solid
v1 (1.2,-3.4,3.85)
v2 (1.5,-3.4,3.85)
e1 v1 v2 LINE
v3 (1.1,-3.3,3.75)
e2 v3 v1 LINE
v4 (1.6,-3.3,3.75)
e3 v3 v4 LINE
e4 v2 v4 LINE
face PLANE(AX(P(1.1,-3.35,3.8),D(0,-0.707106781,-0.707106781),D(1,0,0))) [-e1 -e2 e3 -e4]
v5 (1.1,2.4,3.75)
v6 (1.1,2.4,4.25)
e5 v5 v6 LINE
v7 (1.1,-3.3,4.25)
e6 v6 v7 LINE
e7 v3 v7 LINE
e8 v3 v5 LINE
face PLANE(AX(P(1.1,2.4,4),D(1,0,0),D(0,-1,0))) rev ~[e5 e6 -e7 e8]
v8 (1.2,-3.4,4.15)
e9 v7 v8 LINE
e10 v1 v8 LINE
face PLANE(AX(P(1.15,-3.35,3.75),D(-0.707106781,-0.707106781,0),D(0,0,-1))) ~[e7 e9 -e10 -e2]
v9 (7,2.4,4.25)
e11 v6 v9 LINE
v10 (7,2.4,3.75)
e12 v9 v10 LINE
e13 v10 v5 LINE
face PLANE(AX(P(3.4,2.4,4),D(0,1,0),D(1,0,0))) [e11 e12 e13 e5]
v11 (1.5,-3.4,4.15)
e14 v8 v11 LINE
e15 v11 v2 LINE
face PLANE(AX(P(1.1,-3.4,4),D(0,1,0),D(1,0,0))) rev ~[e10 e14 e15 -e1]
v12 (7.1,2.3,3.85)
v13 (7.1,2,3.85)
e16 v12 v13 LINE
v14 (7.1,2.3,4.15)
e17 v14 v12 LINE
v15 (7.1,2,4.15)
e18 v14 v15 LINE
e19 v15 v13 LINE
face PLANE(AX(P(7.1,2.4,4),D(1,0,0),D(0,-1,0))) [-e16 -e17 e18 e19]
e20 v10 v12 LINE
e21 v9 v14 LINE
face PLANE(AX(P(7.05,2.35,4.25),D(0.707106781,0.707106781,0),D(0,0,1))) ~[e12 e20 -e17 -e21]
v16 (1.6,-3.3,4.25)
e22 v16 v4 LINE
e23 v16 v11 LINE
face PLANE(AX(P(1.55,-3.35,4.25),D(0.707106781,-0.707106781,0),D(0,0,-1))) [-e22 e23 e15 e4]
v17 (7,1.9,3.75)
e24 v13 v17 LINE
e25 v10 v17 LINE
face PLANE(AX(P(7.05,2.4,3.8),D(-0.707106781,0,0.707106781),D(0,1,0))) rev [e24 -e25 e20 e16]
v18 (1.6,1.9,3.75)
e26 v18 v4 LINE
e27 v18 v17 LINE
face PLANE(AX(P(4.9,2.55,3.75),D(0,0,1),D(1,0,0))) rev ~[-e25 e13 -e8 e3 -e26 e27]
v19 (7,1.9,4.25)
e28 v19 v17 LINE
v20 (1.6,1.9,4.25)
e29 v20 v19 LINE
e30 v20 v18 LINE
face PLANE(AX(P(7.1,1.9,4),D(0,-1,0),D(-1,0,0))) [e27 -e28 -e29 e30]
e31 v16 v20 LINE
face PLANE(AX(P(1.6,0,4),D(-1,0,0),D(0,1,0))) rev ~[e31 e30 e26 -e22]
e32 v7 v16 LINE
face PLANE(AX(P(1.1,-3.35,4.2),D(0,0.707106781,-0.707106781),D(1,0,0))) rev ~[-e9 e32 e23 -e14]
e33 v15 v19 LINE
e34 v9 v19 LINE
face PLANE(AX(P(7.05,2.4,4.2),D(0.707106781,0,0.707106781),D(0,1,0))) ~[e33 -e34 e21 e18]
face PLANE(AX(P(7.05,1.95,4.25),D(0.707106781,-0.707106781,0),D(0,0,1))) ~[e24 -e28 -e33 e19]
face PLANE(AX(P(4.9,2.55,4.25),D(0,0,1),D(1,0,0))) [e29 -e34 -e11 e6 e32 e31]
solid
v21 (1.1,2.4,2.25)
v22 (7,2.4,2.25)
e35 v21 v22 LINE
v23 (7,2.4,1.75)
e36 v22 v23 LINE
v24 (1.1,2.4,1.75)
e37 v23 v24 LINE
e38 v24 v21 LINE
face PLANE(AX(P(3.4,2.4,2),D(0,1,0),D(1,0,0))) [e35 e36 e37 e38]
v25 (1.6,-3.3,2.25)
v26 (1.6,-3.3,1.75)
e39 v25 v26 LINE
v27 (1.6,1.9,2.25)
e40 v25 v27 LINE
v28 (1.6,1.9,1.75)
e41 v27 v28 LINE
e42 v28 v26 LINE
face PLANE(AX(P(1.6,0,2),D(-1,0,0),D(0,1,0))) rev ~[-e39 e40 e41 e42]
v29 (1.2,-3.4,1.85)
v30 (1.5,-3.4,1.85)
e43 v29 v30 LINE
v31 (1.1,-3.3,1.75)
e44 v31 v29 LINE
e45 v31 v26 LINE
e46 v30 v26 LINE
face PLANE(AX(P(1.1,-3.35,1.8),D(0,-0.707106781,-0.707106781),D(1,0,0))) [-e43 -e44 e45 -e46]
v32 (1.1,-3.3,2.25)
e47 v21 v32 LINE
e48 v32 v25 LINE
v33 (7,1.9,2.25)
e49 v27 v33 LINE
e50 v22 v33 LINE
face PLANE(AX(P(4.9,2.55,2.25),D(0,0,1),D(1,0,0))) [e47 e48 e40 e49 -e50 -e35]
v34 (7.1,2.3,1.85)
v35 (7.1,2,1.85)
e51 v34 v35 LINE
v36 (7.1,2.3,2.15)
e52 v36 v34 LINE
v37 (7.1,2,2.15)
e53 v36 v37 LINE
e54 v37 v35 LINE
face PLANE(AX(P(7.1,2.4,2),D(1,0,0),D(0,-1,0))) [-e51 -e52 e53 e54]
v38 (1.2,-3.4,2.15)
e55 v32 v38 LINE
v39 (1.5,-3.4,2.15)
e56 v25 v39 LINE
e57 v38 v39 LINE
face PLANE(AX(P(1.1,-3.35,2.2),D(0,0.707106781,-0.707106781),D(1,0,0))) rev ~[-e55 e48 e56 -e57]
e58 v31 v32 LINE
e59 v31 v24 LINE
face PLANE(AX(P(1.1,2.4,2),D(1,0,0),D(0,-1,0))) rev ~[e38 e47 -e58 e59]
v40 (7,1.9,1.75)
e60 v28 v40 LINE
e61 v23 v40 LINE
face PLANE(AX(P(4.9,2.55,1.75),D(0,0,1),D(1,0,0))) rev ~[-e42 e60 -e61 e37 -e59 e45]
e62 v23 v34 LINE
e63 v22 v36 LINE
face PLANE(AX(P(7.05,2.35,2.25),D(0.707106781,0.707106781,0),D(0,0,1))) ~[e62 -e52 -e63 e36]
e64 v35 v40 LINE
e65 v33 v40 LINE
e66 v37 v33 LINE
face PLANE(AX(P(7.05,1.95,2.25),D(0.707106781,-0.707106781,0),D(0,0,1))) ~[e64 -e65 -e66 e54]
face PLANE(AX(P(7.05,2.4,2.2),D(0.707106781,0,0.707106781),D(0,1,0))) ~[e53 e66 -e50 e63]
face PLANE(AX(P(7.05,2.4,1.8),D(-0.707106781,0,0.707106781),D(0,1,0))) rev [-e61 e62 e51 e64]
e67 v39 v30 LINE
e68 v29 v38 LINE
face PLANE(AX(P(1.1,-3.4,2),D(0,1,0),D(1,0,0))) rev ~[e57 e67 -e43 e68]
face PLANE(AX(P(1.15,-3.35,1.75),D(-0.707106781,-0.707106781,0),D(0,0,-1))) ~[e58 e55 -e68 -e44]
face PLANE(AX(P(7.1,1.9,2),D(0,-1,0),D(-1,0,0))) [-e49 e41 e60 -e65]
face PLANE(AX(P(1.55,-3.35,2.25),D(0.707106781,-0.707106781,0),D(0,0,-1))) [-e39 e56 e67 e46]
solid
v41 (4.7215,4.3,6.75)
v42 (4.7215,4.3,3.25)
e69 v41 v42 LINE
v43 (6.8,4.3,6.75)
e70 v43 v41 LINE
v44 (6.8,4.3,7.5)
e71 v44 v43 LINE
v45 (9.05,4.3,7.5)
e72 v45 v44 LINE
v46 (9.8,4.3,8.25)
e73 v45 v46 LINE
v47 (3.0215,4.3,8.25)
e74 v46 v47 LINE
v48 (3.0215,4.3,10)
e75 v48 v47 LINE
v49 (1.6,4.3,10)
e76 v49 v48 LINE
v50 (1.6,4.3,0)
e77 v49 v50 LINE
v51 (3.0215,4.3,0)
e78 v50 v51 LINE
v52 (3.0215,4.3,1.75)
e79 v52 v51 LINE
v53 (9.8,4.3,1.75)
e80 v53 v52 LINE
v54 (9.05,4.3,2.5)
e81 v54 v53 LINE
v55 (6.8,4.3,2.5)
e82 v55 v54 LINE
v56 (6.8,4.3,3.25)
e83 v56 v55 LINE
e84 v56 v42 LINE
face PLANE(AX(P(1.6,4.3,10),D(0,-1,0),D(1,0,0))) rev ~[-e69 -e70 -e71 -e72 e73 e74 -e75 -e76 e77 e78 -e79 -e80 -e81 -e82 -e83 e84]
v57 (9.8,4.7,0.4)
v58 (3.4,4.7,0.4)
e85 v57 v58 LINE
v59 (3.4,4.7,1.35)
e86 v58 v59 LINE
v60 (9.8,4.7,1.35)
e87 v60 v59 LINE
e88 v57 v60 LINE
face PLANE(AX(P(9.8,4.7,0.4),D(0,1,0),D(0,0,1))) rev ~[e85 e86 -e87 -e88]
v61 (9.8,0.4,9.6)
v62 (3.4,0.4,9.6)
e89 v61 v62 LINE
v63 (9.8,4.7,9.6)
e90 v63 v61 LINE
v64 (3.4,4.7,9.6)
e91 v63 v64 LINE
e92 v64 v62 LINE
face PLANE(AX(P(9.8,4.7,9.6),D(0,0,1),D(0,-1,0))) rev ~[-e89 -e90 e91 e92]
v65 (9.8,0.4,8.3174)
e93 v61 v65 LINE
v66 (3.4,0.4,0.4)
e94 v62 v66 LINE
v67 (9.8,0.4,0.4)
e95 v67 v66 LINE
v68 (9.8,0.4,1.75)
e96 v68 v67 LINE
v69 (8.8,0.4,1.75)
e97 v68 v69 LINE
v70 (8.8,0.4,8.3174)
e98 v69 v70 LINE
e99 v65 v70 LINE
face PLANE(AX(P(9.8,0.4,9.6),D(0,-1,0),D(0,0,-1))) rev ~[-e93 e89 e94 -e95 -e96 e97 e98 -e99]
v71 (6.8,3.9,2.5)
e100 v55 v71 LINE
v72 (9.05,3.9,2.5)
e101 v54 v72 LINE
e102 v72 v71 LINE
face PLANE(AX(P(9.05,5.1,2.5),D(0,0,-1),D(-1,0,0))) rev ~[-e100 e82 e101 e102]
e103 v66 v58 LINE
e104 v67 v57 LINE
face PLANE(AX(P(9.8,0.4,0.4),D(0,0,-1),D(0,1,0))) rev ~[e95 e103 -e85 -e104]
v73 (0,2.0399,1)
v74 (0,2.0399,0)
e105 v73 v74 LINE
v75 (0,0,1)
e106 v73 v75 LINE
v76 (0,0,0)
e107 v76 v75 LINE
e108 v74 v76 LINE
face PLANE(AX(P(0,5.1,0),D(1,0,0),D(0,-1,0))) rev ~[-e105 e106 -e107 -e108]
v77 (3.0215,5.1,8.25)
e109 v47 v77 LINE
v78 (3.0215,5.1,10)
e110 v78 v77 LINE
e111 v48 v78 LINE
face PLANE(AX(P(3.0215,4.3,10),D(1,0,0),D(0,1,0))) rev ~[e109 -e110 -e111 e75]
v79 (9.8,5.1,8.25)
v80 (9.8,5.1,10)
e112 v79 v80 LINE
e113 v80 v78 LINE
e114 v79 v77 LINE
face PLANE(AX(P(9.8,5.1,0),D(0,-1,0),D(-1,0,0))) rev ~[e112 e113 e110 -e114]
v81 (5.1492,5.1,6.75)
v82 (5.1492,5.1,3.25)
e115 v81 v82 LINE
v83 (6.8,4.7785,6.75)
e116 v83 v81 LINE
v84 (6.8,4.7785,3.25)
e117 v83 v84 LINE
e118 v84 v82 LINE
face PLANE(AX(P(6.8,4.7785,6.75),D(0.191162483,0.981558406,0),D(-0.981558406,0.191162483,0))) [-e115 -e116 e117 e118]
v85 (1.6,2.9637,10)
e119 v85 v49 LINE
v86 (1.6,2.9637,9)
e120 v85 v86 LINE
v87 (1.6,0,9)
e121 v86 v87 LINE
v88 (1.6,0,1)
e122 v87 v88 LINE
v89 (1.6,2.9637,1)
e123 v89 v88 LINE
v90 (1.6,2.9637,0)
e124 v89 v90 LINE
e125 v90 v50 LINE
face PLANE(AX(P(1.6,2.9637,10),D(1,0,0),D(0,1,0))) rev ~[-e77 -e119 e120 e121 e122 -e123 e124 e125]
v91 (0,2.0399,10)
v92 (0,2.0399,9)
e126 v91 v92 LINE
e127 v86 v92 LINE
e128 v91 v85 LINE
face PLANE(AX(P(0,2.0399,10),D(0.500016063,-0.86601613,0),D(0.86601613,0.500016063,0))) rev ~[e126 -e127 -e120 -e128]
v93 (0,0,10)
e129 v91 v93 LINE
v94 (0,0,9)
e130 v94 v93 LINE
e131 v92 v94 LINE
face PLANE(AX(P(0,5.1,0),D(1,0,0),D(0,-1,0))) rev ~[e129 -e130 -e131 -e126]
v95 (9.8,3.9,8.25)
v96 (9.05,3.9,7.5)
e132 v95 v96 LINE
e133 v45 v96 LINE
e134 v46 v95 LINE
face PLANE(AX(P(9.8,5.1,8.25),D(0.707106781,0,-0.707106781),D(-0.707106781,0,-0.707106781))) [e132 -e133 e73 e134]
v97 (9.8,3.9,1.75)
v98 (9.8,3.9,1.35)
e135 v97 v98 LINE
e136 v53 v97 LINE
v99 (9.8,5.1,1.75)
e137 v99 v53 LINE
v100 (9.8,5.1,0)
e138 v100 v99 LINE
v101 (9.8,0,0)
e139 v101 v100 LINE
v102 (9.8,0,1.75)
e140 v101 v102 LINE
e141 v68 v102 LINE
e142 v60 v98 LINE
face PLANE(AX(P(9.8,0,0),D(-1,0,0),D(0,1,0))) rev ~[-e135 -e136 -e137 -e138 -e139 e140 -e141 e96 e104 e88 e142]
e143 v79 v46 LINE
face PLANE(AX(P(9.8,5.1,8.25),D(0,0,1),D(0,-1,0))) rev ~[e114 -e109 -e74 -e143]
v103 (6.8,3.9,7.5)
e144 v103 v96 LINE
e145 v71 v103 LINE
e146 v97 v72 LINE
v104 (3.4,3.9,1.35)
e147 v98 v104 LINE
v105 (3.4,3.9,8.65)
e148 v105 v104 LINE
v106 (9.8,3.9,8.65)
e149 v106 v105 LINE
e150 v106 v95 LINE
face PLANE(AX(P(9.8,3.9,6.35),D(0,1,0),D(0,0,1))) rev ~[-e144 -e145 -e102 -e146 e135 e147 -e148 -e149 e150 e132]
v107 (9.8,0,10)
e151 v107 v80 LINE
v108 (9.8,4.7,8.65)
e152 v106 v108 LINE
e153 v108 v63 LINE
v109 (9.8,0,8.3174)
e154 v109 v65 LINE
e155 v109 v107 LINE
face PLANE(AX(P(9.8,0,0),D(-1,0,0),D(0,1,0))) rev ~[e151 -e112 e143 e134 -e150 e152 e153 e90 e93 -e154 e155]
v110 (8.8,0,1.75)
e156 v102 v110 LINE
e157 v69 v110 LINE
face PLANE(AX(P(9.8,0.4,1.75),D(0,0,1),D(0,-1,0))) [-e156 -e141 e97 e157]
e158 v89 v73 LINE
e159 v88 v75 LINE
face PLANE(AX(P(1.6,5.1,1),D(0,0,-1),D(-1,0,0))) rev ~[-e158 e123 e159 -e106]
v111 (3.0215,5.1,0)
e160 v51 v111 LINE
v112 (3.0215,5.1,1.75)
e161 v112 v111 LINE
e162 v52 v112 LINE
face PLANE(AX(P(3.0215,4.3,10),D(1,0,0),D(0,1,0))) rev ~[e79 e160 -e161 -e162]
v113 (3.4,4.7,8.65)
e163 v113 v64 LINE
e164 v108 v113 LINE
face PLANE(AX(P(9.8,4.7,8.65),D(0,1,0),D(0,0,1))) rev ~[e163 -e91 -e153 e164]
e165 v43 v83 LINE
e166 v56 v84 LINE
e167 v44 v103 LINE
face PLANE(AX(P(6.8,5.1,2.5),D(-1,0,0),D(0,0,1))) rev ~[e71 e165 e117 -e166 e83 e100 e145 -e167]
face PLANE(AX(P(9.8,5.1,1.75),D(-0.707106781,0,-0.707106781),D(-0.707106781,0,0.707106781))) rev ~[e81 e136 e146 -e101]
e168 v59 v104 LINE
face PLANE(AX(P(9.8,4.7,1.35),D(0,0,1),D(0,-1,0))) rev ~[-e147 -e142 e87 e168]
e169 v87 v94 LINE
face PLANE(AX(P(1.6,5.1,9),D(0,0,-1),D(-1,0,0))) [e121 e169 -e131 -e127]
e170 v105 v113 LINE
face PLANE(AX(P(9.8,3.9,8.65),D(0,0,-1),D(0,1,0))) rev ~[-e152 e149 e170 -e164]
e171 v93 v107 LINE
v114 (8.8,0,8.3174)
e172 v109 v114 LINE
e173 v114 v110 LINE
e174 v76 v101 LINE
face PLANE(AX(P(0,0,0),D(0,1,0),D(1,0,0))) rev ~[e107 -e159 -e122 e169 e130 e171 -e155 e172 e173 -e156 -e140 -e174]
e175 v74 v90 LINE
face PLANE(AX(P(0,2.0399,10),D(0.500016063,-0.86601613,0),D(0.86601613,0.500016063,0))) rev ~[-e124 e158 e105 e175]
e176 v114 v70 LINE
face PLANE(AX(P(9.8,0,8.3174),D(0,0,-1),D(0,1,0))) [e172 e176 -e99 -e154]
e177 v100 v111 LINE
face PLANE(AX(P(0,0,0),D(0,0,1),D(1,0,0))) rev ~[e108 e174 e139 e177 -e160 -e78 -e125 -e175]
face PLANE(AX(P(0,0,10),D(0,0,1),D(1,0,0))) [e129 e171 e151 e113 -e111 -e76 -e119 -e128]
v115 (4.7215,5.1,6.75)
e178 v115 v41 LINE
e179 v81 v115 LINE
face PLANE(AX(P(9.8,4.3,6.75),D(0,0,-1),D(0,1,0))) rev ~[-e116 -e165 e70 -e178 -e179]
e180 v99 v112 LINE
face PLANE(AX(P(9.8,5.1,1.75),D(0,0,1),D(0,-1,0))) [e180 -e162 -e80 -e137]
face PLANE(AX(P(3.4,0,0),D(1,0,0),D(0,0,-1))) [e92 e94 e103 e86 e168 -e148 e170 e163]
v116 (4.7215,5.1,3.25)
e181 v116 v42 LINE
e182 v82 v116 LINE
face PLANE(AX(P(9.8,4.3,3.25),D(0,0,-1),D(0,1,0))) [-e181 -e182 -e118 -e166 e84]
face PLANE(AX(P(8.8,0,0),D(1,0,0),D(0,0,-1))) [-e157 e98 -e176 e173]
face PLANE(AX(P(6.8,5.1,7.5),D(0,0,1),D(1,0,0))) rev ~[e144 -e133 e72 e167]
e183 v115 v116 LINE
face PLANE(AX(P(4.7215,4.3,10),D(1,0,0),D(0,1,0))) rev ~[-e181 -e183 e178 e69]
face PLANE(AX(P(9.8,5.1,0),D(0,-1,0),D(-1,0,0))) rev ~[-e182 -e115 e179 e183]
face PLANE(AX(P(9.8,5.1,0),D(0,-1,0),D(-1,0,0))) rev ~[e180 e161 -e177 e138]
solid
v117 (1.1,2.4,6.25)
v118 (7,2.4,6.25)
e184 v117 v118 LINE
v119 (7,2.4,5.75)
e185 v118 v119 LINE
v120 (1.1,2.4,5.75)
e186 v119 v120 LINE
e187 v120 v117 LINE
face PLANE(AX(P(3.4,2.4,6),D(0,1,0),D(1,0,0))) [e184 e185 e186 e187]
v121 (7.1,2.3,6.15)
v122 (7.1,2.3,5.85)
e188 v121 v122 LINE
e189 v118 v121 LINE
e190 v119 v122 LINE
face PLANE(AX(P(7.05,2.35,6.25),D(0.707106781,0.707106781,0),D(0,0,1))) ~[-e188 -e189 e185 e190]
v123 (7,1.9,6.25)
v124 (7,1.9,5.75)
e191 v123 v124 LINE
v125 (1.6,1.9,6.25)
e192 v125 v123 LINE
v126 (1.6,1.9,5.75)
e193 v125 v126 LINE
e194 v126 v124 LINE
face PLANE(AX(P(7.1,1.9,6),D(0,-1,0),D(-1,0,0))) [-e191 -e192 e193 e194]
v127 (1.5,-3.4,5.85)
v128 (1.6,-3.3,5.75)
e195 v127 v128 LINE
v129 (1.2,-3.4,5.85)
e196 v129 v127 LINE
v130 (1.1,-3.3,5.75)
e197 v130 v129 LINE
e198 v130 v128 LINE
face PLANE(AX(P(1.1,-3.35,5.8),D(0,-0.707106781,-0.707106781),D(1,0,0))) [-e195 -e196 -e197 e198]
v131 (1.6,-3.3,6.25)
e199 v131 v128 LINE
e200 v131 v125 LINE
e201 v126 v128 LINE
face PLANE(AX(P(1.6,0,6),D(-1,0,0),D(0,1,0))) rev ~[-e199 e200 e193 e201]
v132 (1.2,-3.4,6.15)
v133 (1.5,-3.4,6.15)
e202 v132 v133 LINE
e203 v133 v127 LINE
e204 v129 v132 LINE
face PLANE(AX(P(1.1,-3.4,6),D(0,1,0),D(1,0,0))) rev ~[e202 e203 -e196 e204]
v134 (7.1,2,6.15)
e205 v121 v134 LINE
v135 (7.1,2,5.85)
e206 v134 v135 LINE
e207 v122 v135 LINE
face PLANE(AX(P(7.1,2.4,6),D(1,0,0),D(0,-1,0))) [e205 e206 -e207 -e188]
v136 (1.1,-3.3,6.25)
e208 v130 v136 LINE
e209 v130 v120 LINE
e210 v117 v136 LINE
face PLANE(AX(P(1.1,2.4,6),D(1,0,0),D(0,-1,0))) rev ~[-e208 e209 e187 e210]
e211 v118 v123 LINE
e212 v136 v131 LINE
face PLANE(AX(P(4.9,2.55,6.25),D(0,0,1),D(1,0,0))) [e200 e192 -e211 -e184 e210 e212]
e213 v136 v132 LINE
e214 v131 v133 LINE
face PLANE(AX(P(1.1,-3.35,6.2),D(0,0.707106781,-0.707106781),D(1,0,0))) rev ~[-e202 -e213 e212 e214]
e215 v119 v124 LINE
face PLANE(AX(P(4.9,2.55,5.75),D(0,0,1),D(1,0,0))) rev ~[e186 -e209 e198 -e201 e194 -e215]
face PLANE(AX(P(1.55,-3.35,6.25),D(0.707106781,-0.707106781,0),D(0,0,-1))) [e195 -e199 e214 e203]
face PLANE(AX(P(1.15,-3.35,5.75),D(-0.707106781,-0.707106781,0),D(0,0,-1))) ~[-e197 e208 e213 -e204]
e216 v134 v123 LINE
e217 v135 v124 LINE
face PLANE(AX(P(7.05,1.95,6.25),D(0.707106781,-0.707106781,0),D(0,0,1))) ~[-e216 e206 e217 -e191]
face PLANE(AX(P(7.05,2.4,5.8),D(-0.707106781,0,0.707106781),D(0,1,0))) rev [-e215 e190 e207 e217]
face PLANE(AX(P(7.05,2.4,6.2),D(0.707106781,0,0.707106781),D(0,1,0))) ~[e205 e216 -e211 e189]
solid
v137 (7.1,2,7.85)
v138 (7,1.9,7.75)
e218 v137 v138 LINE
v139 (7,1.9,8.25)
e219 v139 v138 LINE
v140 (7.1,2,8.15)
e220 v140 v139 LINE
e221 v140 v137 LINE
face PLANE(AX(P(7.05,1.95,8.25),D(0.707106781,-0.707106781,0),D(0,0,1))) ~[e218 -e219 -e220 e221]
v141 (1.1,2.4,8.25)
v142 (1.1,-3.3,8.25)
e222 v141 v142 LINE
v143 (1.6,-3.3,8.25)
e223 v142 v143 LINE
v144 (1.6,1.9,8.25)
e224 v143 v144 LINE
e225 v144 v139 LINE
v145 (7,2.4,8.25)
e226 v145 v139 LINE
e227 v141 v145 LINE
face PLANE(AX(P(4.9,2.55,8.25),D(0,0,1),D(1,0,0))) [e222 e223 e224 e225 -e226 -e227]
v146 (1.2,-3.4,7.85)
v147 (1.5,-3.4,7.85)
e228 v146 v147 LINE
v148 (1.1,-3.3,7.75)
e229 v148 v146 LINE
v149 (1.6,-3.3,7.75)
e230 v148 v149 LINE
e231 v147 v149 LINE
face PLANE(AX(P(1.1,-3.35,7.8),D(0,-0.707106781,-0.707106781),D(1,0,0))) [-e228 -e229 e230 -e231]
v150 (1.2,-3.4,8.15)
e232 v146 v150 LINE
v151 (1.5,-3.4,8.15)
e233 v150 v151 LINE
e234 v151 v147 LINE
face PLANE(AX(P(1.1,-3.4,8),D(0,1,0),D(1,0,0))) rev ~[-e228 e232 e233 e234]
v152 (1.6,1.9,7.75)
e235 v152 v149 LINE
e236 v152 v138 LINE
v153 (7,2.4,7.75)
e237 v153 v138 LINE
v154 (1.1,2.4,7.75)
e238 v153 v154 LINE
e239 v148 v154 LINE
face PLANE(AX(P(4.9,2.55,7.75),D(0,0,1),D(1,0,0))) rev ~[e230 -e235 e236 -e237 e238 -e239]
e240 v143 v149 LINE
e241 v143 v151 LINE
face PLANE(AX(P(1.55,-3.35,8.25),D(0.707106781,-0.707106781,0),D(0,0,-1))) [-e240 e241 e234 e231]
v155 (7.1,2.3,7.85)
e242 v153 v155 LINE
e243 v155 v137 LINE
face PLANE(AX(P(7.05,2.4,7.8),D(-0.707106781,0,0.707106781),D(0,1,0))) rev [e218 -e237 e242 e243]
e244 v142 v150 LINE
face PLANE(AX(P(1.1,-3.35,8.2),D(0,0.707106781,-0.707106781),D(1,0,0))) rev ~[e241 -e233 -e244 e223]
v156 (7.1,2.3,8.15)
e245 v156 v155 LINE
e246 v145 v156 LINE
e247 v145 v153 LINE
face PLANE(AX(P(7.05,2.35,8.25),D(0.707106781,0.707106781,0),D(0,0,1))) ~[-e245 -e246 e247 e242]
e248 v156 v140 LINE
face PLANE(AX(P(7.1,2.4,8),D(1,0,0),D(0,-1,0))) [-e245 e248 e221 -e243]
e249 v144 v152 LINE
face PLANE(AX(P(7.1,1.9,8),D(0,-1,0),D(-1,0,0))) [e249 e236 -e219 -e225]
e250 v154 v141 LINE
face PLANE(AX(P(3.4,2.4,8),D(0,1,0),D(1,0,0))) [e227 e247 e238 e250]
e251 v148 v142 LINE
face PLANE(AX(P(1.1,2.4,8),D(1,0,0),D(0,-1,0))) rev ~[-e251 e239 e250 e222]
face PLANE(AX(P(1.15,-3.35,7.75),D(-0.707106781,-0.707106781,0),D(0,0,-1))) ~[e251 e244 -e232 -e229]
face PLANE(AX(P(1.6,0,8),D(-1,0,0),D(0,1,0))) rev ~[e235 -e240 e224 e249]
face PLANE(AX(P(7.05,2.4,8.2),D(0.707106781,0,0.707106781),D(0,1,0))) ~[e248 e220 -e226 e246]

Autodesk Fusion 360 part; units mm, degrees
sketch "Sketch1" plane through (0, 0, 0) normal (0, 0, 1) x (1, 0, 0)
  line L0 (0, 0) -> (9.8, 0)
  line L1 (9.8, 0) -> (9.8, 5.1)
  line L2 (9.8, 5.1) -> (0, 5.1)
  line L3 (0, 5.1) -> (0, 0)
  dimension "d1" = 9.8
  dimension "d2" = 5.1
extrude "Extrude1" add sketch "Sketch1" along normal blind 10 makes body 1
sketch "Sketch2" plane through (0, 5.1, 0) normal (0, 1, 0) x (-1, 0, 0)
  line L0 (-9.8, 0) -> (0, 0)
  line L1 (0, 0) -> (0, 10)
  line L2 (0, 10) -> (-9.8, 10)
  line L3 (-9.8, 10) -> (-9.8, 0)
  line L4 (0, 5) -> (-9.8, 5) construction
  line L5 (-1.6, 5) -> (-1.6, 1)
  line L6 (-1.6, 1) -> (0, 1)
  line L7 (0, 9) -> (0, 1)
  line L8 (-1.6, 9) -> (0, 9)
  line L9 (-1.6, 5) -> (-1.6, 9)
  dimension "d5" = 8.2
extrude "Extrude2" cut sketch "Sketch2" against normal through all contours L1 L5 L6 L7 L8 L9 bodies 1
sketch "Sketch3" plane through (9.8, 0, 0) normal (1, 0, 0) x (0, 0, -1)
  line L0 (0, 0) -> (0, 5.1)
  line L1 (0, 5.1) -> (-10, 5.1)
  line L2 (-10, 5.1) -> (-10, 0)
  line L3 (-10, 0) -> (0, 0)
  line L4 (-5, 5.1) -> (-5, 0) construction
  line L5 (-5, 5.1) -> (-3.25, 5.1) construction
  line L6 (-5, 0) -> (-1.75, 0) construction
  line L7 (-3.25, 5.1) -> (-1.75, 5.1)
  line L8 (-1.75, 5.1) -> (-1.75, 4.3)
  line L9 (-1.75, 4.3) -> (-3.25, 4.3)
  line L10 (-3.25, 4.3) -> (-3.25, 5.1)
  line L11 (-6.75, 4.3) -> (-6.75, 5.1)
  line L12 (-8.25, 4.3) -> (-6.75, 4.3)
  line L13 (-6.75, 5.1) -> (-8.25, 5.1)
  line L14 (-8.25, 5.1) -> (-8.25, 4.3)
  dimension "d7" = 1.75
  dimension "d8" = 3.25
  dimension "d9" = 4.3
extrude "Extrude3" cut sketch "Sketch3" against normal through all contours L1 L7 L8 L9 L10 | L1 L11 L12 L13 L14 bodies 1
sketch "Sketch4" plane through (0, 0, 10) normal (0, 0, 1) x (1, 0, 0)
  line L0 (0, 5.1) -> (0, 0)
  line L1 (0, 0) -> (9.8, 0)
  line L2 (9.8, 0) -> (9.8, 5.1)
  line L3 (9.8, 5.1) -> (0, 5.1)
  line L4 (0, 2.0399) -> (1.6, 2.9637)
  line L5 (1.6, 2.9637) -> (1.6, 4.3)
  line L6 (1.6, 4.3) -> (3.0215, 4.3)
  line L7 (3.0215, 4.3) -> (3.0215, 5.1)
  line L8 (0, 5.1) -> (3.0215, 5.1)
  line L9 (0, 5.1) -> (0, 2.0399)
  line L10 (1.6, 5.1) -> (1.6, 0)
  dimension "d11" = 4.3
  dimension "d12" = 8.2
  dimension "d13" = 60
extrude "Extrude4" cut sketch "Sketch4" against normal through all contours L0 L3 L4 L5 L8 L9 L10 | L3 L6 L7 L8 L10 bodies 1
sketch "Sketch5" plane through (0, 5.1, 0) normal (0, 1, 0) x (-1, 0, 0)
  line L0 (-3.0215, 3.25) -> (-3.0215, 6.75)
  line L1 (-3.0215, 6.75) -> (-9.8, 6.75)
  line L2 (-9.8, 6.75) -> (-9.8, 3.25)
  line L3 (-9.8, 3.25) -> (-3.0215, 3.25)
  line L4 (-9.05, 2.5) -> (-6.8, 2.5)
  line L5 (-6.8, 2.5) -> (-6.8, 7.5)
  line L6 (-6.8, 7.5) -> (-9.05, 7.5)
  line L7 (-9.8, 7.5) -> (-9.8, 2.5)
  line L8 (-9.8, 1.75) -> (-9.8, 3.25)
  line L9 (-9.8, 1.75) -> (-9.05, 2.5)
  line L10 (-9.8, 1.75) -> (-8.7393, 1.75) construction
  line L11 (-9.8, 2.5) -> (-9.8, 1.75)
  line L12 (-9.8, 7.5) -> (-9.8, 8.25)
  line L13 (-9.8, 8.25) -> (-9.05, 7.5)
  point P0 (-9.8, 8.25)
  dimension "d15" = 0.75
  dimension "d16" = 0.75
  dimension "d17" = 3
  dimension "d18" = 45
  dimension "d19" = 45
sketch "Sketch6" plane through (9.8, 0, 0) normal (1, 0, 0) x (0, 0, -1)
  line L0 (-8.25, 4.3) -> (-8.25, 5.1)
  line L1 (-8.25, 5.1) -> (-10, 5.1)
  line L2 (-10, 5.1) -> (-10, 0)
  line L3 (-10, 0) -> (0, 0)
  line L4 (0, 0) -> (0, 5.1)
  line L5 (0, 5.1) -> (-1.75, 5.1)
  line L6 (-1.75, 5.1) -> (-1.75, 4.3)
  line L7 (-1.75, 4.3) -> (-3.25, 4.3)
  line L8 (-3.25, 4.3) -> (-3.25, 5.1)
  line L9 (-3.25, 5.1) -> (-6.75, 5.1)
  line L10 (-6.75, 5.1) -> (-6.75, 4.3)
  line L11 (-6.75, 4.3) -> (-8.25, 4.3)
  line L12 (-9.6, 0.4) -> (-0.4, 0.4)
  line L13 (-0.4, 0.4) -> (-0.4, 4.7)
  line L14 (-0.4, 4.7) -> (-1.35, 4.7)
  line L15 (-1.35, 4.7) -> (-1.35, 3.9)
  line L16 (-1.35, 3.9) -> (-3.65, 3.9)
  line L17 (-3.65, 3.9) -> (-3.65, 4.7) construction
  line L18 (-3.65, 4.7) -> (-6.35, 4.7) construction
  line L19 (-6.35, 4.7) -> (-6.35, 3.9) construction
  line L20 (-6.35, 3.9) -> (-8.65, 3.9)
  line L21 (-8.65, 3.9) -> (-8.65, 4.7)
  line L22 (-8.65, 4.7) -> (-9.6, 4.7)
  line L23 (-9.6, 4.7) -> (-9.6, 0.4)
  line L24 (-6.35, 3.9) -> (-3.65, 3.9)
  dimension "d20" = 0.4
extrude "Extrude5" cut sketch "Sketch6" against normal blind 6.4 contours L12 L13 L14 L15 L16 L20 L21 L22 L23 L24 bodies 1
extrude "Extrude6" cut sketch "Sketch5" against normal up to surface (1.2 mm away) contours L3 L4 L5 L7 L8 L9 L11 | L1 L2 L3 L5 L7 | L1 L5 L6 L7 L12 L13 bodies 1
extrude "Extrude7" cut 1 faces at (3.0215, 4.5667, 5.5833) along direction (1, 0, 0) blind 1.7 on bodies 1 bodies 1
sketch "Sketch8" plane through (0, 0, 6.75) normal (0, 0, 1) x (1, 0, 0)
  line L0 (4.7215, 5.1) -> (4.7215, 4.3)
  line L1 (4.7215, 4.3) -> (6.8, 4.3)
  line L2 (6.8, 4.3) -> (6.8, 5.1)
  line L3 (6.8, 5.1) -> (4.7215, 5.1)
  line L4 (6.8, 4.7785) -> (5.1492, 5.1)
  line L5 (6.8, 5.1) -> (5.1492, 5.1)
  line L6 (6.8, 4.7785) -> (6.8, 5.1)
extrude "Extrude8" cut sketch "Sketch8" against normal up to surface (3.5 mm away) contours L2 L3 L4 L5 L6 bodies 1
sketch "Sketch9" plane through (9.8, 0, 0) normal (1, 0, 0) x (0, 0, -1)
  line L0 (-1.75, 4.3) -> (-1.75, 3.9)
  line L1 (-1.75, 3.9) -> (-1.35, 3.9)
  line L2 (-1.35, 3.9) -> (-1.35, 4.7)
  line L3 (-1.35, 4.7) -> (-0.4, 4.7)
  line L4 (-0.4, 4.7) -> (-0.4, 0.4)
  line L5 (-0.4, 0.4) -> (-9.6, 0.4)
  line L6 (-9.6, 0.4) -> (-9.6, 4.7)
  line L7 (-9.6, 4.7) -> (-8.65, 4.7)
  line L8 (-8.65, 4.7) -> (-8.65, 3.9)
  line L9 (-8.65, 3.9) -> (-8.25, 3.9)
  line L10 (-8.25, 3.9) -> (-8.25, 4.3)
  line L11 (-8.25, 4.3) -> (-8.25, 5.1)
  line L12 (-8.25, 5.1) -> (-10, 5.1)
  line L13 (-10, 5.1) -> (-10, 0)
  line L14 (-10, 0) -> (0, 0)
  line L15 (0, 0) -> (0, 5.1)
  line L16 (0, 5.1) -> (-1.75, 5.1)
  line L17 (-1.75, 5.1) -> (-1.75, 4.3)
  line L18 (-8.3174, 0.4) -> (-1.75, 0.4)
  line L19 (-1.75, 0.4) -> (-1.75, 0)
  line L20 (-1.75, 0) -> (-8.3174, 0)
  line L21 (-8.3174, 0) -> (-8.3174, 0.4)
extrude "Extrude9" cut sketch "Sketch9" against normal blind 1 contours L5 L14 L18 L19 L20 L21 bodies 1
ref_plane "WorkPlane1" through (4.9, 2.55, 5) normal (0, 0, 1) x (1, 0, 0)
ref_plane "WorkPlane2" through (4.9, 2.55, 2) normal (0, 0, 1) x (1, 0, 0)
sketch "Sketch10" plane through (4.9, 2.55, 2) normal (0, 0, 1) x (1, 0, 0)
  line L0 (4.9, 2.15) -> (4.9, -2.15)
  line L1 (-1.5, 2.15) -> (-1.5, -2.15)
  line L2 (4.9, 0) -> (0.8, 0) construction
  line L3 (1.1, -2.5) -> (1.7485, -2.5)
  line L4 (-3.3, -0.15) -> (-3.8, -0.15)
  line L5 (-3.8, -0.15) -> (-3.8, -5.95)
  line L6 (-3.8, -5.95) -> (-3.3, -5.95)
  line L7 (-3.3, -5.95) -> (-3.3, -0.65)
  line L8 (-3.3, 1.75) -> (-3.3, 0.4137)
  line L9 (-3.3, -0.15) -> (2.2, -0.15)
  line L10 (2.2, -0.15) -> (2.2, -0.65)
  line L11 (2.2, -0.65) -> (-3.3, -0.65)
  line L12 (-4.9, -2.55) -> (4.9, -2.55)
  dimension "d33" = 0.5
  dimension "d34" = 0.5
  dimension "d35" = 3.4
  dimension "d40" = 1.9
  dimension "d41" = 5.5
copy_body "Body->Comp1" bodies 1 removing the originals makes body 2 in component "housing"
extrude "Extrude1'" add sketch "Sketch10" along normal mid plane 0.5 separate body makes body 3 in component "Component"
chamfer "Chamfer1" distance 0.1 angle 45 4 edges at (7.1, 2.4, 2) (7.1, 2.15, 2.25) (7.1, 1.9, 2) (7.1, 2.15, 1.75) on bodies 3 in component "Component"
chamfer "Chamfer2" distance 0.1 angle 45 4 edges at (1.35, -3.4, 2.25) (1.6, -3.4, 2) (1.35, -3.4, 1.75) (1.1, -3.4, 2) on bodies 3 in component "Component"
pattern_linear "R-Pattern1" count 4 spacing 2 along (0, 0, 1) of bodies 3 makes body 4 at (3.2333, 2.2333, 3.75) makes body 5 at (3.2333, 2.2333, 5.75) makes body 6 at (3.2333, 2.2333, 7.75) in component "Component"
component "housing" placed x (1, 0, 0) y (0, 1, 0) z (0, 0, 1) at (0, 0, 0)
component "Component" placed x (1, 0, 0) y (0, 1, 0) z (0, 0, 1) at (0, 0, 0)
equation "d7 = ( 3.5 / 2 ) * 1 mm"
equation "d8 = 3 mm + ( ( 0.5 / 2 ) * 1 mm )"
equation "d40 = 2.15 mm - 0.25 mm"
